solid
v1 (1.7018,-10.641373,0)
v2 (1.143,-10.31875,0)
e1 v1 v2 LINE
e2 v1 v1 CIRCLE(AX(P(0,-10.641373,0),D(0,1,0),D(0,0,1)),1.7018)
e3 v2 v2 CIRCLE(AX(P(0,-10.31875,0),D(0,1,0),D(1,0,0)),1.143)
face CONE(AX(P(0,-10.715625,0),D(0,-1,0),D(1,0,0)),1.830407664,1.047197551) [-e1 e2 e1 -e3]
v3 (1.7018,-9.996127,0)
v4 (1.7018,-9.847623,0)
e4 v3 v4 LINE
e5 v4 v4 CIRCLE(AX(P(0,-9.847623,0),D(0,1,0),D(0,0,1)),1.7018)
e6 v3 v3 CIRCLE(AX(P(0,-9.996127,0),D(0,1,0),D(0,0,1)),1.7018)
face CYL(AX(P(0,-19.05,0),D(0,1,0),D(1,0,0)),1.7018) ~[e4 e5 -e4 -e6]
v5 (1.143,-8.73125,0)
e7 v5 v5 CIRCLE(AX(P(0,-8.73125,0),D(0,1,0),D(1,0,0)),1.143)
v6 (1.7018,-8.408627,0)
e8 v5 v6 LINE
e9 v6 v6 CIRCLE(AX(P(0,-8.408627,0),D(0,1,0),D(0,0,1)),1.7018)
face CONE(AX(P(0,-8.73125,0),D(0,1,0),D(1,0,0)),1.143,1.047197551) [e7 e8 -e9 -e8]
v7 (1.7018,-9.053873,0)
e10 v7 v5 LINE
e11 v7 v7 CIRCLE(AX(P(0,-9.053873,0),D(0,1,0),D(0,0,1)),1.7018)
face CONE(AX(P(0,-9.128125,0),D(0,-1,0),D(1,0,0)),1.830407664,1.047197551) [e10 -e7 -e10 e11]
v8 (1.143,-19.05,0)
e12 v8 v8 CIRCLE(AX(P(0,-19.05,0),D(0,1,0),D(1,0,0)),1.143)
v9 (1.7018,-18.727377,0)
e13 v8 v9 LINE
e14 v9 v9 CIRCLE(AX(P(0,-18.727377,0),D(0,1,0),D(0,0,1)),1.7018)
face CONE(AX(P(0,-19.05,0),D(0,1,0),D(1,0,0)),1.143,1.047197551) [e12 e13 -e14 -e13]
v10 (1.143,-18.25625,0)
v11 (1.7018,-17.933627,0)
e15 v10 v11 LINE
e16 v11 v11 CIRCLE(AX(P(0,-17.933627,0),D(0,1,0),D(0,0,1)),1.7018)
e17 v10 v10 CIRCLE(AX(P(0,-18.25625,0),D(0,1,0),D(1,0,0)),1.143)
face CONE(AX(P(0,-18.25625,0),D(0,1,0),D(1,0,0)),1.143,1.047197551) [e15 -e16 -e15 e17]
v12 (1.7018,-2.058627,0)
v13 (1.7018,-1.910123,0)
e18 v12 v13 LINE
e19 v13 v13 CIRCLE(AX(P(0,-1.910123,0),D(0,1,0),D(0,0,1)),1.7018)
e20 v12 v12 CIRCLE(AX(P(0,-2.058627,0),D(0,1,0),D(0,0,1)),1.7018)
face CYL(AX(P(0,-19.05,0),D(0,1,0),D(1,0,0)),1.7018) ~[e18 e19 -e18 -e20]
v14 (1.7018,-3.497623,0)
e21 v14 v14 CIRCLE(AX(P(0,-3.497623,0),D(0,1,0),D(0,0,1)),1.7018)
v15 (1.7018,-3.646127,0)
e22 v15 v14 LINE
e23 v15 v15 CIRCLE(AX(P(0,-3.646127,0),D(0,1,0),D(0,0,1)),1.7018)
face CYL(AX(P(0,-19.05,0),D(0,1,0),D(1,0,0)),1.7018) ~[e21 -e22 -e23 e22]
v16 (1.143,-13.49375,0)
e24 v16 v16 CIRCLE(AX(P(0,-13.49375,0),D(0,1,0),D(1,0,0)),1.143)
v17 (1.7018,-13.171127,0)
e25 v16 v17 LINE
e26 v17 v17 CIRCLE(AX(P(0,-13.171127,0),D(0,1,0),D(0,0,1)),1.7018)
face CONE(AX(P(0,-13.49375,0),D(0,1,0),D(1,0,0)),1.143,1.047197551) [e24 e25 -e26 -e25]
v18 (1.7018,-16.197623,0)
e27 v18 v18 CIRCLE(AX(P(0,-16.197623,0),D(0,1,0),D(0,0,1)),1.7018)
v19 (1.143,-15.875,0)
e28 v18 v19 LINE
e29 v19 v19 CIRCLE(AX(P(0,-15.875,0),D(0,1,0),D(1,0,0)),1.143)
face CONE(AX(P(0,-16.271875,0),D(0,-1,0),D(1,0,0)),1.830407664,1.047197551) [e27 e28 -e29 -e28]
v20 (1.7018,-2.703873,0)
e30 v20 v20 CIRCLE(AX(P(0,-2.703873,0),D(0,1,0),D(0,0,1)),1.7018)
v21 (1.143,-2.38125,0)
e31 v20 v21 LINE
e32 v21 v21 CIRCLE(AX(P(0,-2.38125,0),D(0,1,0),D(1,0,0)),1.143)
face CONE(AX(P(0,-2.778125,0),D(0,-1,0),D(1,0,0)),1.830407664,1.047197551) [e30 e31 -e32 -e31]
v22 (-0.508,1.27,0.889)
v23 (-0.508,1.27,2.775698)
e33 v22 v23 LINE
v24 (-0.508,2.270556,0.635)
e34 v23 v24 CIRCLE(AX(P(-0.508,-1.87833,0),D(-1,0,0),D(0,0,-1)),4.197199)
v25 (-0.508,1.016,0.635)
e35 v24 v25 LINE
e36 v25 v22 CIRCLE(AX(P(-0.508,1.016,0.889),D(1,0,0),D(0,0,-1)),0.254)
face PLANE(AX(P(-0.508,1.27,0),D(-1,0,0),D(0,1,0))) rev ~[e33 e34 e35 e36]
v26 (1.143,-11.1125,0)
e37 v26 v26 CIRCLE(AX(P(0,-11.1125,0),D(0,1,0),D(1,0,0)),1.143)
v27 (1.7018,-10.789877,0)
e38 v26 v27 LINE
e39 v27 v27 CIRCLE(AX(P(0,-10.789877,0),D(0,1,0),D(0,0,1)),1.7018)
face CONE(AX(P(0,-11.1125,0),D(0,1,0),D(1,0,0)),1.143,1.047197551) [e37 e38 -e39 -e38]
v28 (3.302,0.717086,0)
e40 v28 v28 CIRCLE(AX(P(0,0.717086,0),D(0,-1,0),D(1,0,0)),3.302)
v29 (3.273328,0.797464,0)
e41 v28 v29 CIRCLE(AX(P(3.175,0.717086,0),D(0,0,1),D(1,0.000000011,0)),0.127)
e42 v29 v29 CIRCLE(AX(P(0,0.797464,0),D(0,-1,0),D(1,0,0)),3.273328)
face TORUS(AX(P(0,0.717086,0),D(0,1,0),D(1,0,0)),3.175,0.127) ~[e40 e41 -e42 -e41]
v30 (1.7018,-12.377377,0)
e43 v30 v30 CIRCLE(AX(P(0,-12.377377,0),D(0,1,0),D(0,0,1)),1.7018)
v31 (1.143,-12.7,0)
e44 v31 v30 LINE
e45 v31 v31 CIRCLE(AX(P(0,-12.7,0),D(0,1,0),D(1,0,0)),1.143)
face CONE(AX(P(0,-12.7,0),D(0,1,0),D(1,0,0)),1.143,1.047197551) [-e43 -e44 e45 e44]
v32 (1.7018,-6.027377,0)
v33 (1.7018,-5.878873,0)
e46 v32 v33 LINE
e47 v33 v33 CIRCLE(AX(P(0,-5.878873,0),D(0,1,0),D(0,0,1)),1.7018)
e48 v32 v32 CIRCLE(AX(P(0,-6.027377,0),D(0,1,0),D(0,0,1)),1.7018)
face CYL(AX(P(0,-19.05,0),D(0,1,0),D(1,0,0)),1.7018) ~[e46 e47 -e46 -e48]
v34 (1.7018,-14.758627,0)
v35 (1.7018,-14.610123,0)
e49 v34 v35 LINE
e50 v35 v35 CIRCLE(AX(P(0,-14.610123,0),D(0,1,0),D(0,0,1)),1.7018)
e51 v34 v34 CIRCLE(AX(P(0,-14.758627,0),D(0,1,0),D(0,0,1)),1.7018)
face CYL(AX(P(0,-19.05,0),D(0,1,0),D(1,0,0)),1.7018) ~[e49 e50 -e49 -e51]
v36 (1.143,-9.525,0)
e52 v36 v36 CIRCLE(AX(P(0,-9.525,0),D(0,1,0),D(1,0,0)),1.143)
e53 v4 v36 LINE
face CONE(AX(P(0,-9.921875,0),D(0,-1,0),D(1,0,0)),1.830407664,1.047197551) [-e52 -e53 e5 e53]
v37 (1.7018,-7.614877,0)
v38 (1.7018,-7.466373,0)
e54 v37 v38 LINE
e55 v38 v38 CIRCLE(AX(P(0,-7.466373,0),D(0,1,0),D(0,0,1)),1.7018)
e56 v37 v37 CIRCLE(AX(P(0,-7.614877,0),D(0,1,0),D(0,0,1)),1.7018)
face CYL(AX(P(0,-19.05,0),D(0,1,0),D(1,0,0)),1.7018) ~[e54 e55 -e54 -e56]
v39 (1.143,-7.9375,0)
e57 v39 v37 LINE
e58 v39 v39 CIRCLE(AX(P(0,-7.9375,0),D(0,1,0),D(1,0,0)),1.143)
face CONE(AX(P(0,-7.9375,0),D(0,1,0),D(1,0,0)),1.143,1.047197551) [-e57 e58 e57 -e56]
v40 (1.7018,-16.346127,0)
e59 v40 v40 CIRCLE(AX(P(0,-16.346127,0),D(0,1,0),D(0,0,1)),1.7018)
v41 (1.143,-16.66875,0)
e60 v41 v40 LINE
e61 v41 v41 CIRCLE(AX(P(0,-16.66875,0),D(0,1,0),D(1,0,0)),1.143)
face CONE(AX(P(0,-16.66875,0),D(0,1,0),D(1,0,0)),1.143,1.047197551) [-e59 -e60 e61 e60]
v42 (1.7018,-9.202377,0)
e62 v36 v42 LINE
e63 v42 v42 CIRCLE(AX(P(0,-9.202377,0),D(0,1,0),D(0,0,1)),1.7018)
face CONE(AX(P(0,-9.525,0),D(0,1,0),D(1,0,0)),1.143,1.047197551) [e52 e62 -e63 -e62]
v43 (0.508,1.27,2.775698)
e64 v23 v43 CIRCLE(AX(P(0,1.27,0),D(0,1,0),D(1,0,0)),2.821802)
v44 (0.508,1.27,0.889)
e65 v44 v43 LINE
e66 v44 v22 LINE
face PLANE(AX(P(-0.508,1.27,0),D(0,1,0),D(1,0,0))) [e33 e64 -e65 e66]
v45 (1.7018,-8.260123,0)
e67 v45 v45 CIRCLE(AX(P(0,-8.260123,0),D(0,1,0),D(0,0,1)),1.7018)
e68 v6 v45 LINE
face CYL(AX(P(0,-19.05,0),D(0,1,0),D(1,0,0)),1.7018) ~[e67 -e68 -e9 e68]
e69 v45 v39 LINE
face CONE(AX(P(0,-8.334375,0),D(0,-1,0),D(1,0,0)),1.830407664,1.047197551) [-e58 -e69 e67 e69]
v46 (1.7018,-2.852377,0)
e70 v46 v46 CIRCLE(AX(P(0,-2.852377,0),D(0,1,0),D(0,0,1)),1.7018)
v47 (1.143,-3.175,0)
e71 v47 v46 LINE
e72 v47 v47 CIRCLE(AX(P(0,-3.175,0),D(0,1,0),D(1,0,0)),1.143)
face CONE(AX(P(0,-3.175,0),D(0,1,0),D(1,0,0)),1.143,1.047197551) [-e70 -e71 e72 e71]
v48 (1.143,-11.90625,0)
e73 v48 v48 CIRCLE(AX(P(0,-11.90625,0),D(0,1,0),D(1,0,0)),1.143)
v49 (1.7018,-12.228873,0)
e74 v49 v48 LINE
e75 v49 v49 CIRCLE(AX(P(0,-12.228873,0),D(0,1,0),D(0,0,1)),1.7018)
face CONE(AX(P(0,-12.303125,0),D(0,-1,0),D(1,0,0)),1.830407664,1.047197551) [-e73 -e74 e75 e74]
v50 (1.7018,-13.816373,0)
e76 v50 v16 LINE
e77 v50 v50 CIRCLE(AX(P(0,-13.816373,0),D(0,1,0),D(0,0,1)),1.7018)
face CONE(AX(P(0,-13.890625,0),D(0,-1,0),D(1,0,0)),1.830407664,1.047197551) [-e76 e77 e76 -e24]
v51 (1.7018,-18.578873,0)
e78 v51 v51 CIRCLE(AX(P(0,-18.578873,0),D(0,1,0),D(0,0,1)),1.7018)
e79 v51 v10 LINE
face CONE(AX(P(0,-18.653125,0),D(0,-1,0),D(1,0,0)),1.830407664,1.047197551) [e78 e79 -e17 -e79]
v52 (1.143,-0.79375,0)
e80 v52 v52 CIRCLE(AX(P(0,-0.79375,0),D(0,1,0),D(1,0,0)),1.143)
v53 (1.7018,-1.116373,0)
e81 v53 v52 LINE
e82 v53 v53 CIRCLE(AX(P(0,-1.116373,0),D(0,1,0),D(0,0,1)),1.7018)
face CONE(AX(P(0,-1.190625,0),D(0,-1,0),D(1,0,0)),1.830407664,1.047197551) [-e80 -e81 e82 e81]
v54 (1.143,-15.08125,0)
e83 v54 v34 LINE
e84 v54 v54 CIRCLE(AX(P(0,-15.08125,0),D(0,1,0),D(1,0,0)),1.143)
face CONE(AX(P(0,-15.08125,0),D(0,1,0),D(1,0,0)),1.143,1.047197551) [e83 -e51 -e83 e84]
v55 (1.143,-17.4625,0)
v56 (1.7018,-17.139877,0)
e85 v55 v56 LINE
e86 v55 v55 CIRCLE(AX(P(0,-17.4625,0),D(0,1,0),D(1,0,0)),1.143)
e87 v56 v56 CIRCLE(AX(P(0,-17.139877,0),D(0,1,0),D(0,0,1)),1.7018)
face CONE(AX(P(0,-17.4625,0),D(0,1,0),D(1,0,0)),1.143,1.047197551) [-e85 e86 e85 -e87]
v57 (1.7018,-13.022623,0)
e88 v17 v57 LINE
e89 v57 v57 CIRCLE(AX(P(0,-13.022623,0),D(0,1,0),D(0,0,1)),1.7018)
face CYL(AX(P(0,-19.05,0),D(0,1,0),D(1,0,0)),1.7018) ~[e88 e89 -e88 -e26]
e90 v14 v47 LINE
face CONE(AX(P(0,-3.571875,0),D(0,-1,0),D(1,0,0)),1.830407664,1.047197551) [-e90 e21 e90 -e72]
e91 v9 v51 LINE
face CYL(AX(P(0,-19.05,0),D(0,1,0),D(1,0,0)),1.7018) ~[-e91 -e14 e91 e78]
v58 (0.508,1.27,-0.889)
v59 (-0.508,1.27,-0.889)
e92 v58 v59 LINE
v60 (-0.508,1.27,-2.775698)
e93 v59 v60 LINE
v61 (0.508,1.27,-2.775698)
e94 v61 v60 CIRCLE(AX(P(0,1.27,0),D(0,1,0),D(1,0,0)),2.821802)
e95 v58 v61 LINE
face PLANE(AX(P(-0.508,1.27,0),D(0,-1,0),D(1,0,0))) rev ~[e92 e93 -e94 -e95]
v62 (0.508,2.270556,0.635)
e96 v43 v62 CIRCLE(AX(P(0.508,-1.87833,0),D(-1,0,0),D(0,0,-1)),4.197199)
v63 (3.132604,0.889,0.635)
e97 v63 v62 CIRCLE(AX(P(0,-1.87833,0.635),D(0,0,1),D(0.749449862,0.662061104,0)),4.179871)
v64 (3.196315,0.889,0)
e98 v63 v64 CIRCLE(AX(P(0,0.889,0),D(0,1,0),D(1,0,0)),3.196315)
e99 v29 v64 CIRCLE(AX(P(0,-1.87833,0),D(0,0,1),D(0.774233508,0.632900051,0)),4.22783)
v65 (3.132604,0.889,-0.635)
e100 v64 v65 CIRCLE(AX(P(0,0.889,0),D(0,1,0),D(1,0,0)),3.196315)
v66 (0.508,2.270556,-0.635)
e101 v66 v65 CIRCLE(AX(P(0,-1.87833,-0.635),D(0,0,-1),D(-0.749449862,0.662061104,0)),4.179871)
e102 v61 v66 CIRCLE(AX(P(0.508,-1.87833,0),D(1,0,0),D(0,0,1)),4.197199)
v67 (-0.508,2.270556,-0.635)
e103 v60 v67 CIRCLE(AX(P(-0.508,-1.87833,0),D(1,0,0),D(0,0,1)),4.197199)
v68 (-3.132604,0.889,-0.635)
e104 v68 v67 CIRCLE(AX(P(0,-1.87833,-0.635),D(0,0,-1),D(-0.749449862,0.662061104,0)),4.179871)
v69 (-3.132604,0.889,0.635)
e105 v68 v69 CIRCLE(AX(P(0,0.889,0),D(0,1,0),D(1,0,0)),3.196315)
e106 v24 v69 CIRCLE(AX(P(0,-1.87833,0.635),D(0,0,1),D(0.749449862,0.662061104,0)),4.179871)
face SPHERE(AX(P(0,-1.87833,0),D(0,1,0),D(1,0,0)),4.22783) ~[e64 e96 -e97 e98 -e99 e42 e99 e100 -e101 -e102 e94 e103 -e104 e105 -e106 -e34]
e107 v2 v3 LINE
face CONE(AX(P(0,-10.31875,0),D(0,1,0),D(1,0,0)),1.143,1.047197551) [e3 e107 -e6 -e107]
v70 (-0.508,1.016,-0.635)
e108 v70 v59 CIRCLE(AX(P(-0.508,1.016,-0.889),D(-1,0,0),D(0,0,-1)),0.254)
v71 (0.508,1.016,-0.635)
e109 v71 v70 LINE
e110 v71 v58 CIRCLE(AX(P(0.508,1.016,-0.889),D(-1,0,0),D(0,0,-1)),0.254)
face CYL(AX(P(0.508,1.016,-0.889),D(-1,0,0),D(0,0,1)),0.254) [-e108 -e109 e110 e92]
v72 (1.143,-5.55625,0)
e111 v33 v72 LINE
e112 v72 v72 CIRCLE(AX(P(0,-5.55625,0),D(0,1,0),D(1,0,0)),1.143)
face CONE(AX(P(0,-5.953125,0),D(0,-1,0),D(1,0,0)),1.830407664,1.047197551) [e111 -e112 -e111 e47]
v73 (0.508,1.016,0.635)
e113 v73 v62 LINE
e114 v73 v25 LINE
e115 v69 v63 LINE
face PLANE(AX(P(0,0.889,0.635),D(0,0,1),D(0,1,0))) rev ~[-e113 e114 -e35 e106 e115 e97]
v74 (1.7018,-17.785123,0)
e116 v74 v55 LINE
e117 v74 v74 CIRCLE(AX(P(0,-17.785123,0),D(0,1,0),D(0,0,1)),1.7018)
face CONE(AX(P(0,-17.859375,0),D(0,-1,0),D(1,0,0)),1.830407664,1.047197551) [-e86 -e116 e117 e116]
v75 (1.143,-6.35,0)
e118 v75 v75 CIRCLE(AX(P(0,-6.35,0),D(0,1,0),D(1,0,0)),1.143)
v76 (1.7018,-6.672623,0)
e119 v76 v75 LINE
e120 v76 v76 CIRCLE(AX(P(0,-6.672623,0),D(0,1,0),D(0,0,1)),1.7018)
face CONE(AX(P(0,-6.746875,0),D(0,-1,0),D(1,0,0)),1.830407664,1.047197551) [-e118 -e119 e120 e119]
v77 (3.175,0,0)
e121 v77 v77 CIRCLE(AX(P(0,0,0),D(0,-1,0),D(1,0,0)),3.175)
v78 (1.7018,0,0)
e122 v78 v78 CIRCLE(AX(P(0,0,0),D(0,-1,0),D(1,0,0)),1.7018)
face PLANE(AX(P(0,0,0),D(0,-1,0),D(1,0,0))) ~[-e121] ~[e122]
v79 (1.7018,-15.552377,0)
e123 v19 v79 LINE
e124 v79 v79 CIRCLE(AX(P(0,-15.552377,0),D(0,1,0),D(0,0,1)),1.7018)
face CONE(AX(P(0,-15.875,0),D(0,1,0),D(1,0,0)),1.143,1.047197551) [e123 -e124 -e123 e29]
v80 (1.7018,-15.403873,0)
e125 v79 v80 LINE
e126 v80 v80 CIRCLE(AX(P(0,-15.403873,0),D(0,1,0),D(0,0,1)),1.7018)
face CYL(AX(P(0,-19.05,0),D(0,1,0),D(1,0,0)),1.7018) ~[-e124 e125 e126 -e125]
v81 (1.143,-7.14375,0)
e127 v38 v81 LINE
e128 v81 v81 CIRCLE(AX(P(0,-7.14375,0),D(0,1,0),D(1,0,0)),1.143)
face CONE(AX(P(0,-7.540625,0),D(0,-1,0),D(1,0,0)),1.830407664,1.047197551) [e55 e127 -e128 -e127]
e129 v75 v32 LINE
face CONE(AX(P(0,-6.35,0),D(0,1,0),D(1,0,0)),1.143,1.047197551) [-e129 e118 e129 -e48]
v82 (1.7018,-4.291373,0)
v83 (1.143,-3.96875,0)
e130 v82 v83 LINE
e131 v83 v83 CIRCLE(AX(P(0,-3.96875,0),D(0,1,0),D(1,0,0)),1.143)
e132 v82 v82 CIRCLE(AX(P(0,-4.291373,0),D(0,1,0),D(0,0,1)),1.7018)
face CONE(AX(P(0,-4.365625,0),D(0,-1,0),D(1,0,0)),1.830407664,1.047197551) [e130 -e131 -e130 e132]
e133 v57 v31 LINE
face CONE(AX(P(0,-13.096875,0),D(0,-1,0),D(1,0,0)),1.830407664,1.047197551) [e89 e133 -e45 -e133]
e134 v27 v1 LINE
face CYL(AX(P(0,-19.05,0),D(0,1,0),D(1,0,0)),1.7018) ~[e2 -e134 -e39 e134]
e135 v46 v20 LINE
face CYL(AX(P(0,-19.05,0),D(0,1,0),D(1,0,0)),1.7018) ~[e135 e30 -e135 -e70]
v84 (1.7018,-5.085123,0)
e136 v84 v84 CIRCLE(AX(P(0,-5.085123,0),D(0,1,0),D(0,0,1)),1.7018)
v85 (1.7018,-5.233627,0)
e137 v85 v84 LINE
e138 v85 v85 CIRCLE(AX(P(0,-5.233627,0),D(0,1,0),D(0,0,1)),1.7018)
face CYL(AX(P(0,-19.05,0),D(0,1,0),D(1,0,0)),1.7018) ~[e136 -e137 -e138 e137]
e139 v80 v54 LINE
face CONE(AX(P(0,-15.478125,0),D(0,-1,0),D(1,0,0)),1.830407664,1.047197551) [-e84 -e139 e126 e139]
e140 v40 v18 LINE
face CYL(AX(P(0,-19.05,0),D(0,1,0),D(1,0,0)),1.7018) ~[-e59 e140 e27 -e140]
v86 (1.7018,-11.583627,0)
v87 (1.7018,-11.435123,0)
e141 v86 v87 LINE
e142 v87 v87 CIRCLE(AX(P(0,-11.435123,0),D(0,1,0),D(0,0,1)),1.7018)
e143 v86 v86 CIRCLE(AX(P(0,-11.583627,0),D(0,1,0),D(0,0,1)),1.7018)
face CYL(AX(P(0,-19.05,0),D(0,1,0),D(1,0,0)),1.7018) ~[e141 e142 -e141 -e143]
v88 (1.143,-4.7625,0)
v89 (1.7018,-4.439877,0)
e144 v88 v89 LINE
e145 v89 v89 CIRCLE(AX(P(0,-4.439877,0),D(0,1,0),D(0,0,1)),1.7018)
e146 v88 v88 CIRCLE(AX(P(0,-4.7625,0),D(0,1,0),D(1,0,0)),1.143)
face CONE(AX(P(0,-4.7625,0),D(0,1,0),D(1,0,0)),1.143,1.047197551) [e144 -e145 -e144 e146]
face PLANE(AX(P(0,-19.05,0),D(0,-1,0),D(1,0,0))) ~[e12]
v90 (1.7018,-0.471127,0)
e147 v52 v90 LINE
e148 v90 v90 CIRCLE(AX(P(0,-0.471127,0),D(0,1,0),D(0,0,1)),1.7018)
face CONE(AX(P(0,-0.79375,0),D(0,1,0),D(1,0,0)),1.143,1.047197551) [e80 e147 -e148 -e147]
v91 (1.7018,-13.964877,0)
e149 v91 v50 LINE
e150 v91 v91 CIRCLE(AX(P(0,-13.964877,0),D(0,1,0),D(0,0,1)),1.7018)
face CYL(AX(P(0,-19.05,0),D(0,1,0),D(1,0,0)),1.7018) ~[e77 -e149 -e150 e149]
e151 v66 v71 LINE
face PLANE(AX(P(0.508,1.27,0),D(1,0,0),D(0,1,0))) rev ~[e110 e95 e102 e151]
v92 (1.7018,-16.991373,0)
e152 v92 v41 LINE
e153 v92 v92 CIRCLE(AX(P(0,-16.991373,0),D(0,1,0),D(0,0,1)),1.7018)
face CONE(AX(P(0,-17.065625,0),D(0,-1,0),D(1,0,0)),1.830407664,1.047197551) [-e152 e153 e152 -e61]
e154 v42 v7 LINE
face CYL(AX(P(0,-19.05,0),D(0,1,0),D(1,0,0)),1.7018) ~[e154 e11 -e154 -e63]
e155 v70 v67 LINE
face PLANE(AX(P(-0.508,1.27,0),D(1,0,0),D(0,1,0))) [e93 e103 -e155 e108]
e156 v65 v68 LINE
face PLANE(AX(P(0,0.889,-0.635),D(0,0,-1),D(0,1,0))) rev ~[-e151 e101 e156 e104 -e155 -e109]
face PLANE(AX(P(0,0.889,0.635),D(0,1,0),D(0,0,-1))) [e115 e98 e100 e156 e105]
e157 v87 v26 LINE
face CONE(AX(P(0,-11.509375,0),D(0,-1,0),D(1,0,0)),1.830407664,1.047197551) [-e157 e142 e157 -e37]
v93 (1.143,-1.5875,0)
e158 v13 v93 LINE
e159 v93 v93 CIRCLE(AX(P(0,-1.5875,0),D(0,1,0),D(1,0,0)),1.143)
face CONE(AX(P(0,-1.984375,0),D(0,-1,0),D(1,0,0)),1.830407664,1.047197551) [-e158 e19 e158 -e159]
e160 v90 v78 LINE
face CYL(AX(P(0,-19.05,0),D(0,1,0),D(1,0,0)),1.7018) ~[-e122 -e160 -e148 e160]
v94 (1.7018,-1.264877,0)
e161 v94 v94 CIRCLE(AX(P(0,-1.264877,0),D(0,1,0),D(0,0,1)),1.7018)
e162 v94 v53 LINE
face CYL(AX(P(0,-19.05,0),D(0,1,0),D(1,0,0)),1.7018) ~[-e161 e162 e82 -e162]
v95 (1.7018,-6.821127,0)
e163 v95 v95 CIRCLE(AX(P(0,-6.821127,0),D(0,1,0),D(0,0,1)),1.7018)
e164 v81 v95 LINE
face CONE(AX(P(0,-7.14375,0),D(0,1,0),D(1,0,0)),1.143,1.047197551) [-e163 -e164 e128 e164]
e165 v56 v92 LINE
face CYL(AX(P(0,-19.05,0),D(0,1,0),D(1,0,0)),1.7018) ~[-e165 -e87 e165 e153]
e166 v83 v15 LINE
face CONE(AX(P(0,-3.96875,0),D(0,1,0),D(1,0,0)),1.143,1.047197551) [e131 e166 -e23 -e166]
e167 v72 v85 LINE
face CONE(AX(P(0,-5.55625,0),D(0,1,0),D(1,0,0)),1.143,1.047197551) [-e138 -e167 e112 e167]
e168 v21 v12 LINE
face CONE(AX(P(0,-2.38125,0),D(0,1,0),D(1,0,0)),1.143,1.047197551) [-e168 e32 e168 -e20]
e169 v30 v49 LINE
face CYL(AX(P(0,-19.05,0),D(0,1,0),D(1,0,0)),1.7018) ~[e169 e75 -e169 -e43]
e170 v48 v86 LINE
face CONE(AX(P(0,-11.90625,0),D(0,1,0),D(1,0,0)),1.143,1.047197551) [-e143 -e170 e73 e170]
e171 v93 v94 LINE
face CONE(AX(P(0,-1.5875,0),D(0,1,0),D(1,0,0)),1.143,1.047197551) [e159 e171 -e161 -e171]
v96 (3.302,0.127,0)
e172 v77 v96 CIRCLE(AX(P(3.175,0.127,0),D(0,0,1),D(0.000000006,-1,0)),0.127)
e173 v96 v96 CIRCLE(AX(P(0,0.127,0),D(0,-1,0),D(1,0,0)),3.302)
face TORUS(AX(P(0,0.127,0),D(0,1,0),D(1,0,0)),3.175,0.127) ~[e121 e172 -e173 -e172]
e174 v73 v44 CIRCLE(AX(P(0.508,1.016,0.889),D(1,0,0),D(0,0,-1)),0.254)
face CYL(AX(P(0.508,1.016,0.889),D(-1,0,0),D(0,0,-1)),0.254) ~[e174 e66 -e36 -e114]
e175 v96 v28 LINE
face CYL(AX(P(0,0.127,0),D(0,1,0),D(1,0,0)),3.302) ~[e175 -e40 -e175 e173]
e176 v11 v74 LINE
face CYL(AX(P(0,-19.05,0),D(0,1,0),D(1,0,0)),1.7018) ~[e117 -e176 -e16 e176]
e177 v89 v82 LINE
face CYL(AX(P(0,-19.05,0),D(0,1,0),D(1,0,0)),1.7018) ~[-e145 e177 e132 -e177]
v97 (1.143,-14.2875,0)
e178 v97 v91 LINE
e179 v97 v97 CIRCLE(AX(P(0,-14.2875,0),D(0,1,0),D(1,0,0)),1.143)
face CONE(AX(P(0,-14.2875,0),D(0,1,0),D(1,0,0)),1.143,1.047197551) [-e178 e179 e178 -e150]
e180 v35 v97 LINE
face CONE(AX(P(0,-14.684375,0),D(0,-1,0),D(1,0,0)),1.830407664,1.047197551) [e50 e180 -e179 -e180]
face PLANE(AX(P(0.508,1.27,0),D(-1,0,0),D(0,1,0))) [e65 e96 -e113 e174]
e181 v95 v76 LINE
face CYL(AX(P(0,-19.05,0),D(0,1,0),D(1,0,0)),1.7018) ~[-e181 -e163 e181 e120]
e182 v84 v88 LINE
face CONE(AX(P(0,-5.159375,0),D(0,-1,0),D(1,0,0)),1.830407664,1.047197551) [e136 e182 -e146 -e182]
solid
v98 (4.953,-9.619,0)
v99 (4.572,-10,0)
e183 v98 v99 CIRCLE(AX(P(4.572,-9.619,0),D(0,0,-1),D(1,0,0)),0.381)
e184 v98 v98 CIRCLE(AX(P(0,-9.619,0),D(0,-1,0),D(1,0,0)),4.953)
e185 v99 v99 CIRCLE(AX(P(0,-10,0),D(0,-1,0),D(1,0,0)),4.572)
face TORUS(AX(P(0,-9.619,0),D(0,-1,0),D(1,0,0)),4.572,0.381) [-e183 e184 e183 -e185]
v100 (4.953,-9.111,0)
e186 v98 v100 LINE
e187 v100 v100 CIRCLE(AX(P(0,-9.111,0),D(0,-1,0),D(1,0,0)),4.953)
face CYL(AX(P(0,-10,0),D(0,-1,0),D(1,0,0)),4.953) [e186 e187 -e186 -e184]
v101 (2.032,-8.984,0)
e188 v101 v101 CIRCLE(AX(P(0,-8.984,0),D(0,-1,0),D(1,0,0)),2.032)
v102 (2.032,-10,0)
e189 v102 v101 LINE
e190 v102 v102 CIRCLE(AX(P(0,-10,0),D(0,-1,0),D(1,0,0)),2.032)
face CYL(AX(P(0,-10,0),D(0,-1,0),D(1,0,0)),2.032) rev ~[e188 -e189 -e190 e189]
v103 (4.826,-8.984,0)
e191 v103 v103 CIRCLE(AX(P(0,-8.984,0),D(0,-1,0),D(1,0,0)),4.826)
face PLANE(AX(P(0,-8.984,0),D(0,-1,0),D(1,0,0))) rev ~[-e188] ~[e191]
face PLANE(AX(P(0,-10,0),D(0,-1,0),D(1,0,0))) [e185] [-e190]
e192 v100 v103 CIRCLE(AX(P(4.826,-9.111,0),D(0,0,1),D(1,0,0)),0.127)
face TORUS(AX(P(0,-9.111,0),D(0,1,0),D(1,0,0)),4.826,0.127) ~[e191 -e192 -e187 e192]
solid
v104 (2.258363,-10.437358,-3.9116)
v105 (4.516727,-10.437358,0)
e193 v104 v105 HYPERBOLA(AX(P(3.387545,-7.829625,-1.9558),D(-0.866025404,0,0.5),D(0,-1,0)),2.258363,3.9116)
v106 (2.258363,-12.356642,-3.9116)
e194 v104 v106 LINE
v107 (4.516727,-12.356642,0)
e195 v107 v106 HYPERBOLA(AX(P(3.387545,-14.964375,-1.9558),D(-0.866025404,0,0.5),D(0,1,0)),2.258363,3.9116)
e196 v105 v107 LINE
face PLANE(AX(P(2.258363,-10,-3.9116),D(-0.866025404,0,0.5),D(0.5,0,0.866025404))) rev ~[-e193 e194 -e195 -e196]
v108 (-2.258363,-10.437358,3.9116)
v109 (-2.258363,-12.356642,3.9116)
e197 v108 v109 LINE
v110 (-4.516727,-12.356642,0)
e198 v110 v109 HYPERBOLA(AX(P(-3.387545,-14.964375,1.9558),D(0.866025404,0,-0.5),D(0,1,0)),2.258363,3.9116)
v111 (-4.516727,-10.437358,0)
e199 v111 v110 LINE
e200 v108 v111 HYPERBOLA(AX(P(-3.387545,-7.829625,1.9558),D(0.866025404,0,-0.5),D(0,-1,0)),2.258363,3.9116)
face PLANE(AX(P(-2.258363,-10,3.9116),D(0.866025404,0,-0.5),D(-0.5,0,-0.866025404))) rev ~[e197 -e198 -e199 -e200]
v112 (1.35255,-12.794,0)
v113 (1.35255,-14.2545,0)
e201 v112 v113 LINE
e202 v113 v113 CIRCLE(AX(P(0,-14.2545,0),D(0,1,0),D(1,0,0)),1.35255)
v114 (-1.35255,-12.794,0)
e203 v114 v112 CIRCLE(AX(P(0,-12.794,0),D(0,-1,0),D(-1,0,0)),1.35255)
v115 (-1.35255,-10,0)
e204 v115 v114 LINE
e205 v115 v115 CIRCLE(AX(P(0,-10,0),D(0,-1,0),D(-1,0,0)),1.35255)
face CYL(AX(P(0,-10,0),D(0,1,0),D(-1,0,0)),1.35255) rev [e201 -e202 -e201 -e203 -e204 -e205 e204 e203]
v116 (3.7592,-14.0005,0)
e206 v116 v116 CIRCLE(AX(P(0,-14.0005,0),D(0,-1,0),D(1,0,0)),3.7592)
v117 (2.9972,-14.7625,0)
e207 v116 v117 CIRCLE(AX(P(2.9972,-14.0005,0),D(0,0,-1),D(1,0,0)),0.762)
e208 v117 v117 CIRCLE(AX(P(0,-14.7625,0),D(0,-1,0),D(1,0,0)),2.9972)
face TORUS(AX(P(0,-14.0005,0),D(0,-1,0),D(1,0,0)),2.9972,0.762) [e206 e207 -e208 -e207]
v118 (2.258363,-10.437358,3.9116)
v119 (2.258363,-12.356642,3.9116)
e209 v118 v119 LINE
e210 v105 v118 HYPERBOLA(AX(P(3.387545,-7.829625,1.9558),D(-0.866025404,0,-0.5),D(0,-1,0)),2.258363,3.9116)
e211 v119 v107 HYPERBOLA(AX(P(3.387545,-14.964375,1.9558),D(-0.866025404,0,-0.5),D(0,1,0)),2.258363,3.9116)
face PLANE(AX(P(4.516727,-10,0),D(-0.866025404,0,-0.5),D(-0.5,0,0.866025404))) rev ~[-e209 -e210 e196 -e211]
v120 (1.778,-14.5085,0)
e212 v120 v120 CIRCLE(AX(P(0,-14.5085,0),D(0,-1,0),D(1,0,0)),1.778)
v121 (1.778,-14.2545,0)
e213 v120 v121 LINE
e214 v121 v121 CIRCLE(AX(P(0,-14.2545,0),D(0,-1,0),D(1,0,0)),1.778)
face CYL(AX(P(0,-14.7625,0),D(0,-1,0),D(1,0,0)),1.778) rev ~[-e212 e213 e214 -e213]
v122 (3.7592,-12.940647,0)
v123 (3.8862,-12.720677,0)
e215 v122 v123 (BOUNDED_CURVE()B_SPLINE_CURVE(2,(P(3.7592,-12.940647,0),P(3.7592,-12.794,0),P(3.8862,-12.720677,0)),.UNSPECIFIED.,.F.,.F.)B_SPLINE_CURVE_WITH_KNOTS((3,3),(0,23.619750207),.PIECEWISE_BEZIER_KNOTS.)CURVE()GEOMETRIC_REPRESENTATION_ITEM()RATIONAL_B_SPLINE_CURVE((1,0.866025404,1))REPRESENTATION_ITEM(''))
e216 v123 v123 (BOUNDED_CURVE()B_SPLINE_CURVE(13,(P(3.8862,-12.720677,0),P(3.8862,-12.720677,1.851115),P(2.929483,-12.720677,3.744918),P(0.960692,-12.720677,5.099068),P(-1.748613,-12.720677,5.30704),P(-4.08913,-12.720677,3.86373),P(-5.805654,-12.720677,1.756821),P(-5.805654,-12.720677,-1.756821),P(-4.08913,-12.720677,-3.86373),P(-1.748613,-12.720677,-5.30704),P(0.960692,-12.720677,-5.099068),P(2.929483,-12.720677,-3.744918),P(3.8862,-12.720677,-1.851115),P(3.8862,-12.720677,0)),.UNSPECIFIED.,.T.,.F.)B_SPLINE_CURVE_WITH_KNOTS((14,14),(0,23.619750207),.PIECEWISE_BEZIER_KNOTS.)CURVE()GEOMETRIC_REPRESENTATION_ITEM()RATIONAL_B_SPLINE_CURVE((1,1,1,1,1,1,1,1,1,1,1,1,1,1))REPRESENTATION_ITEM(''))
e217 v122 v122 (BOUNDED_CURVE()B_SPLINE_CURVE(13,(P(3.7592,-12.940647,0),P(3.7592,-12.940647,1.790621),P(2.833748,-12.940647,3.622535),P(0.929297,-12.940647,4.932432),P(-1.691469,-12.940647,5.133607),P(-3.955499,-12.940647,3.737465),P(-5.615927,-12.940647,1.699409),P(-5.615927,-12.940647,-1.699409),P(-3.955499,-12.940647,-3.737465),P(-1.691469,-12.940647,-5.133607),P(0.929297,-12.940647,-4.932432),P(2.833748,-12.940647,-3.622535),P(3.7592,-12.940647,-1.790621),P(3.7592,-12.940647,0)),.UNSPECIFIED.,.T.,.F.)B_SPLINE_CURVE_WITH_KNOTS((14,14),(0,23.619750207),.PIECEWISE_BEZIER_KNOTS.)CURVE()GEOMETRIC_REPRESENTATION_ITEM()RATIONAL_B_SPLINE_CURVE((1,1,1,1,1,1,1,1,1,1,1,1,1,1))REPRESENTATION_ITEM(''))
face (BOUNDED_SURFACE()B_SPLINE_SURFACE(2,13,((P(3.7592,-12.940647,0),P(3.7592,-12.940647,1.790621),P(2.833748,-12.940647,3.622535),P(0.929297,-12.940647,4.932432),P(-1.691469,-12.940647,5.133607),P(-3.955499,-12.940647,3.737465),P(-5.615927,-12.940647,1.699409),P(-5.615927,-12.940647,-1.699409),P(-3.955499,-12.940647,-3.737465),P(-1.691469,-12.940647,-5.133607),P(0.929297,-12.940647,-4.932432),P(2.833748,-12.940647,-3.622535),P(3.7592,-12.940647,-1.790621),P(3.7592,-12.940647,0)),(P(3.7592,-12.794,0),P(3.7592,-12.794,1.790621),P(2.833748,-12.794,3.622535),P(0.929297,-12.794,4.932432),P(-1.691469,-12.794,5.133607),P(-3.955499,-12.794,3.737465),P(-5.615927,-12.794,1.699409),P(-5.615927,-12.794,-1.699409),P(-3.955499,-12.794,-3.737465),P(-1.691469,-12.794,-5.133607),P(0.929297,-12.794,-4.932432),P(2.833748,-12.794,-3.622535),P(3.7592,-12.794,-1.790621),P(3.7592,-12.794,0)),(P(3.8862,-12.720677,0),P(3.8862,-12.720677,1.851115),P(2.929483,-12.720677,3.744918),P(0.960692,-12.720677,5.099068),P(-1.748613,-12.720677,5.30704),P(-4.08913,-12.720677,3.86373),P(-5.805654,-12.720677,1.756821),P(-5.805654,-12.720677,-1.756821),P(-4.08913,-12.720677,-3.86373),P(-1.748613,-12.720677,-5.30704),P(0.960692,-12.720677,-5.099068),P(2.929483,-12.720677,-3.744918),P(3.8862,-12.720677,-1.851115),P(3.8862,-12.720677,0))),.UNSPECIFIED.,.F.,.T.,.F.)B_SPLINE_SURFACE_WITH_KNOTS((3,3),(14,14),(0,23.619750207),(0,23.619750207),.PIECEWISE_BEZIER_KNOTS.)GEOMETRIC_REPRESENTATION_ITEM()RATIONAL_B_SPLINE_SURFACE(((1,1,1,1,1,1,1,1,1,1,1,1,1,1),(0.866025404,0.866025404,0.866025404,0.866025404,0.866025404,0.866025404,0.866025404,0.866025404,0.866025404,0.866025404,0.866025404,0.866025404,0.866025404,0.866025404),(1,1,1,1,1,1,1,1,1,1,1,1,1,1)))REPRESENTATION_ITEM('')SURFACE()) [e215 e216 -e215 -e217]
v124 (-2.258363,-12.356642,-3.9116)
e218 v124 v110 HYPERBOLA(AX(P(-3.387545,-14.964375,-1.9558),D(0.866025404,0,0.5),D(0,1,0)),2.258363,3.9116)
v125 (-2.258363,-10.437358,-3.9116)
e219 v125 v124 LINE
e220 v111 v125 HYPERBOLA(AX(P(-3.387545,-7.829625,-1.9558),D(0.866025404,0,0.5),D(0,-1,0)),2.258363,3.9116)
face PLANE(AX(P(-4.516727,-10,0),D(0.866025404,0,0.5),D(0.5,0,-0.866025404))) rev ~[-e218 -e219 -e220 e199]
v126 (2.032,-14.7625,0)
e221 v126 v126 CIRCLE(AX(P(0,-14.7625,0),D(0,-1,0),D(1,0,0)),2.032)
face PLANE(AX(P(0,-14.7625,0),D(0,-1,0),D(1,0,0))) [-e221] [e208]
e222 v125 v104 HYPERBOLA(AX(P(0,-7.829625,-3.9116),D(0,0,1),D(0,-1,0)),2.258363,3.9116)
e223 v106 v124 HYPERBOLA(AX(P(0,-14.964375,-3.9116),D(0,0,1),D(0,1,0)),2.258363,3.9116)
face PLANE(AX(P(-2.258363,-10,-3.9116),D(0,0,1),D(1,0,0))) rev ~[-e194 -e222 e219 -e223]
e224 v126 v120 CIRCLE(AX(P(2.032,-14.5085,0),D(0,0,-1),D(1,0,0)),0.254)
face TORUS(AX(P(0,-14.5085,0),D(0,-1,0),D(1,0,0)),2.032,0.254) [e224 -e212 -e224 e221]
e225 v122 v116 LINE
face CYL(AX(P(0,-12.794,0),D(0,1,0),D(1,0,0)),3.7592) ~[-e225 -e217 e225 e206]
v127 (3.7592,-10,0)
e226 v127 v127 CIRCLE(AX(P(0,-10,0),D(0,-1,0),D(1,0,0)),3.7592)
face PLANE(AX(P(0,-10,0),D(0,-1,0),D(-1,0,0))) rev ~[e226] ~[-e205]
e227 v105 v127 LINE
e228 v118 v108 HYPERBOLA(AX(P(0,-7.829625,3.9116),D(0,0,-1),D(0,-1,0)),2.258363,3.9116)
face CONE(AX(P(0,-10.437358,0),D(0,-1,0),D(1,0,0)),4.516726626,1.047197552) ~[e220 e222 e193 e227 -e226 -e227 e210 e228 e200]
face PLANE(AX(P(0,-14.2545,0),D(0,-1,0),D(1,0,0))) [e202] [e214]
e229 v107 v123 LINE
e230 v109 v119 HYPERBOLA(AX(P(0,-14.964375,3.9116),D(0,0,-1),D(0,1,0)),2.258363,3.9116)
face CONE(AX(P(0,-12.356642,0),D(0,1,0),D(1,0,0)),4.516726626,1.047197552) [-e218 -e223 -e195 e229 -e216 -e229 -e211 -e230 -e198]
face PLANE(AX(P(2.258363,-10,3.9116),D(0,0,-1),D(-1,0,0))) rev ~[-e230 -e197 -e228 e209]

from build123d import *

# Parameters (mm, degrees)
SKETCH2_W                          = 1.27
SKETCH2_H                          = 1.778
LONG_CUT_PHILLIPS_DEPTH            = 4.3020001
LONG_CUT_PHILLIPS_DEPTH_BACK       = 4.3020001
SKETCH3_W                          = 1.016
SKETCH3_H                          = 1.27
SHORT_CUT_PHILLIPS_DEPTH           = 4.3020001
SHORT_CUT_PHILLIPS_DEPTH_BACK      = 4.3020001
PHILLIPS_FILLET_R                  = 0.254
LPATTERN_THREADS_COUNT             = 24
LPATTERN_THREADS_PITCH             = 0.79375
SKETCH5_R                          = 1.35255
NUT_TAP_HOLE_36_DRILL_0_1065_DEPTH = 2.794
SKETCH8_R                          = 3.7592
SKETCH8_R_2                        = 1.35255
LOCK_NUT_EXTRUDE_DEPTH             = 1.9685
SKETCH9_R                          = 1.778
LOCK_NUT_CUT_DEPTH                 = 0.508
LOCK_NUT_FILLET_1_R                = 0.762
LOCK_NUT_FILLET_2_R                = 0.254
SKETCH7_R                          = 4.953
SKETCH7_R_2                        = 2.032
WASHER_DEPTH                       = 1.016
WASHER_FILLET_1_R                  = 0.381
WASHER_FILLET_2_R                  = 0.127


with BuildPart() as part:
    # Sketch1 → Revolve Screw Body (revolve)
    with BuildSketch(Plane.XY):
        with BuildLine():
            Line((0, 2.3495), (0, -19.05))
            Line((0, -19.05), (1.7018, -19.05))
            Line((1.7018, -19.05), (1.7018, 0))
            Line((1.7018, 0), (3.175, 0))
            ThreePointArc((3.175, 0), (3.264802561, 0.037197439), (3.302, 0.127))
            Line((3.302, 0.127), (3.302, 0.717085514))
            ThreePointArc((3.302, 0.717085514), (3.294617332, 0.759755103), (3.273327656, 0.79746382))
            ThreePointArc((3.273327656, 0.79746382), (1.811317907, 1.941836743), (0, 2.3495))
        make_face()
    revolve(axis=Axis((0, 2.3495, 0), (0, -1, 0)))

    # Sketch2 → Long Cut Phillips (cut, two sides)
    with BuildSketch(Plane(origin=(0, 0, 0), x_dir=(0, 0, -1), z_dir=(1, 0, 0))) as long_cut_phillips_sk:
        with Locations((0, 1.778)):
            Rectangle(SKETCH2_W, SKETCH2_H)
    extrude(amount=LONG_CUT_PHILLIPS_DEPTH, mode=Mode.SUBTRACT)
    extrude(long_cut_phillips_sk.sketch, amount=-LONG_CUT_PHILLIPS_DEPTH_BACK, mode=Mode.SUBTRACT)

    # Sketch3 → Short Cut Phillips (cut, two sides)
    with BuildSketch(Plane.XY) as short_cut_phillips_sk:
        with Locations((0, 1.905)):
            Rectangle(SKETCH3_W, SKETCH3_H)
    extrude(amount=SHORT_CUT_PHILLIPS_DEPTH, mode=Mode.SUBTRACT)
    extrude(short_cut_phillips_sk.sketch, amount=-SHORT_CUT_PHILLIPS_DEPTH_BACK, mode=Mode.SUBTRACT)

    # Phillips Fillet
    phillips_fillet_edges = [part.edges().sort_by_distance(p)[0] for p in [
        (0, 1.27, -0.635),
        (0, 1.27, 0.635),
    ]]
    fillet(phillips_fillet_edges, radius=PHILLIPS_FILLET_R)

    # Sketch4 → Cut Threading (revolve, cut)
    with BuildSketch(Plane.XY):
        Polygon((2.624157664, -18.653125), (2.624157664, -19.446875), (1.830407664, -19.446875), (1.143, -19.05), (1.830407664, -18.653125), align=None)
    cut_threading = revolve(axis=Axis((0, -19.05, 0), (0, 1, 0)), mode=Mode.SUBTRACT)

    # LPattern Threads: Cut Threading ×24
    with Locations(*[(0, i * LPATTERN_THREADS_PITCH, 0) for i in range(1, LPATTERN_THREADS_COUNT)]):
        add(cut_threading, mode=Mode.SUBTRACT)


with BuildPart() as body_2:
    # Sketch5 → Nut Tap Hole #36 Drill 0.1065 (new body)
    with BuildSketch(Plane(origin=(0, -10.000000066, 0), x_dir=(-1, 0, 0), z_dir=(0, -1, 0))):
        Polygon((-4.516726626, 0), (-2.258363313, -3.9116), (2.258363313, -3.9116), (4.516726626, 0), (2.258363313, 3.9116), (-2.258363313, 3.9116), align=None)
        Circle(SKETCH5_R, mode=Mode.SUBTRACT)
    extrude(amount=NUT_TAP_HOLE_36_DRILL_0_1065_DEPTH)

    # Sketch6 → Nut Angle Edges (revolve, cut)
    with BuildSketch(Plane.XY):
        Polygon((3.7592, -10.000000066), (4.516726626, -10.000000066), (4.516726626, -10.437358267), align=None)
        Polygon((3.7592, -12.794000066), (4.516726626, -12.794000066), (4.516726626, -12.356641865), align=None)
    revolve(axis=Axis((0, -10.000000066, 0), (0, -1, 0)), mode=Mode.SUBTRACT)

    # Sketch8 → Lock Nut Extrude (add)
    with BuildSketch(Plane.XZ.offset(12.794000066)):
        Circle(SKETCH8_R)
        Circle(SKETCH8_R_2, mode=Mode.SUBTRACT)
    extrude(amount=LOCK_NUT_EXTRUDE_DEPTH)

    # Sketch9 → Lock Nut Cut (cut)
    with BuildSketch(Plane.XZ.offset(14.762500066)):
        Circle(SKETCH9_R)
    extrude(amount=-LOCK_NUT_CUT_DEPTH, mode=Mode.SUBTRACT)

    # Lock Nut Fillet-1
    lock_nut_fillet_1_edges = [body_2.edges().sort_by_distance(p)[0] for p in [
        (-3.7592, -14.762500066, 0),
    ]]
    fillet(lock_nut_fillet_1_edges, radius=LOCK_NUT_FILLET_1_R)

    # Lock Nut Fillet-2
    lock_nut_fillet_2_edges = [body_2.edges().sort_by_distance(p)[0] for p in [
        (-3.7592, -12.794000066, 0),
        (-1.778, -14.762500066, 0),
    ]]
    fillet(lock_nut_fillet_2_edges, radius=LOCK_NUT_FILLET_2_R)


with BuildPart() as body_3:
    # Sketch7 → Washer (new body)
    with BuildSketch(Plane.XZ.offset(10.000000066)):
        Circle(SKETCH7_R)
        Circle(SKETCH7_R_2, mode=Mode.SUBTRACT)
    extrude(amount=-WASHER_DEPTH)

    # Washer Fillet-1
    washer_fillet_1_edges = [body_3.edges().sort_by_distance(p)[0] for p in [
        (-4.953, -10.000000066, 0),
    ]]
    fillet(washer_fillet_1_edges, radius=WASHER_FILLET_1_R)

    # Washer Fillet-2
    washer_fillet_2_edges = [body_3.edges().sort_by_distance(p)[0] for p in [
        (-4.953, -8.984000066, 0),
    ]]
    fillet(washer_fillet_2_edges, radius=WASHER_FILLET_2_R)


solid = Compound([part.part, body_2.part, body_3.part])
